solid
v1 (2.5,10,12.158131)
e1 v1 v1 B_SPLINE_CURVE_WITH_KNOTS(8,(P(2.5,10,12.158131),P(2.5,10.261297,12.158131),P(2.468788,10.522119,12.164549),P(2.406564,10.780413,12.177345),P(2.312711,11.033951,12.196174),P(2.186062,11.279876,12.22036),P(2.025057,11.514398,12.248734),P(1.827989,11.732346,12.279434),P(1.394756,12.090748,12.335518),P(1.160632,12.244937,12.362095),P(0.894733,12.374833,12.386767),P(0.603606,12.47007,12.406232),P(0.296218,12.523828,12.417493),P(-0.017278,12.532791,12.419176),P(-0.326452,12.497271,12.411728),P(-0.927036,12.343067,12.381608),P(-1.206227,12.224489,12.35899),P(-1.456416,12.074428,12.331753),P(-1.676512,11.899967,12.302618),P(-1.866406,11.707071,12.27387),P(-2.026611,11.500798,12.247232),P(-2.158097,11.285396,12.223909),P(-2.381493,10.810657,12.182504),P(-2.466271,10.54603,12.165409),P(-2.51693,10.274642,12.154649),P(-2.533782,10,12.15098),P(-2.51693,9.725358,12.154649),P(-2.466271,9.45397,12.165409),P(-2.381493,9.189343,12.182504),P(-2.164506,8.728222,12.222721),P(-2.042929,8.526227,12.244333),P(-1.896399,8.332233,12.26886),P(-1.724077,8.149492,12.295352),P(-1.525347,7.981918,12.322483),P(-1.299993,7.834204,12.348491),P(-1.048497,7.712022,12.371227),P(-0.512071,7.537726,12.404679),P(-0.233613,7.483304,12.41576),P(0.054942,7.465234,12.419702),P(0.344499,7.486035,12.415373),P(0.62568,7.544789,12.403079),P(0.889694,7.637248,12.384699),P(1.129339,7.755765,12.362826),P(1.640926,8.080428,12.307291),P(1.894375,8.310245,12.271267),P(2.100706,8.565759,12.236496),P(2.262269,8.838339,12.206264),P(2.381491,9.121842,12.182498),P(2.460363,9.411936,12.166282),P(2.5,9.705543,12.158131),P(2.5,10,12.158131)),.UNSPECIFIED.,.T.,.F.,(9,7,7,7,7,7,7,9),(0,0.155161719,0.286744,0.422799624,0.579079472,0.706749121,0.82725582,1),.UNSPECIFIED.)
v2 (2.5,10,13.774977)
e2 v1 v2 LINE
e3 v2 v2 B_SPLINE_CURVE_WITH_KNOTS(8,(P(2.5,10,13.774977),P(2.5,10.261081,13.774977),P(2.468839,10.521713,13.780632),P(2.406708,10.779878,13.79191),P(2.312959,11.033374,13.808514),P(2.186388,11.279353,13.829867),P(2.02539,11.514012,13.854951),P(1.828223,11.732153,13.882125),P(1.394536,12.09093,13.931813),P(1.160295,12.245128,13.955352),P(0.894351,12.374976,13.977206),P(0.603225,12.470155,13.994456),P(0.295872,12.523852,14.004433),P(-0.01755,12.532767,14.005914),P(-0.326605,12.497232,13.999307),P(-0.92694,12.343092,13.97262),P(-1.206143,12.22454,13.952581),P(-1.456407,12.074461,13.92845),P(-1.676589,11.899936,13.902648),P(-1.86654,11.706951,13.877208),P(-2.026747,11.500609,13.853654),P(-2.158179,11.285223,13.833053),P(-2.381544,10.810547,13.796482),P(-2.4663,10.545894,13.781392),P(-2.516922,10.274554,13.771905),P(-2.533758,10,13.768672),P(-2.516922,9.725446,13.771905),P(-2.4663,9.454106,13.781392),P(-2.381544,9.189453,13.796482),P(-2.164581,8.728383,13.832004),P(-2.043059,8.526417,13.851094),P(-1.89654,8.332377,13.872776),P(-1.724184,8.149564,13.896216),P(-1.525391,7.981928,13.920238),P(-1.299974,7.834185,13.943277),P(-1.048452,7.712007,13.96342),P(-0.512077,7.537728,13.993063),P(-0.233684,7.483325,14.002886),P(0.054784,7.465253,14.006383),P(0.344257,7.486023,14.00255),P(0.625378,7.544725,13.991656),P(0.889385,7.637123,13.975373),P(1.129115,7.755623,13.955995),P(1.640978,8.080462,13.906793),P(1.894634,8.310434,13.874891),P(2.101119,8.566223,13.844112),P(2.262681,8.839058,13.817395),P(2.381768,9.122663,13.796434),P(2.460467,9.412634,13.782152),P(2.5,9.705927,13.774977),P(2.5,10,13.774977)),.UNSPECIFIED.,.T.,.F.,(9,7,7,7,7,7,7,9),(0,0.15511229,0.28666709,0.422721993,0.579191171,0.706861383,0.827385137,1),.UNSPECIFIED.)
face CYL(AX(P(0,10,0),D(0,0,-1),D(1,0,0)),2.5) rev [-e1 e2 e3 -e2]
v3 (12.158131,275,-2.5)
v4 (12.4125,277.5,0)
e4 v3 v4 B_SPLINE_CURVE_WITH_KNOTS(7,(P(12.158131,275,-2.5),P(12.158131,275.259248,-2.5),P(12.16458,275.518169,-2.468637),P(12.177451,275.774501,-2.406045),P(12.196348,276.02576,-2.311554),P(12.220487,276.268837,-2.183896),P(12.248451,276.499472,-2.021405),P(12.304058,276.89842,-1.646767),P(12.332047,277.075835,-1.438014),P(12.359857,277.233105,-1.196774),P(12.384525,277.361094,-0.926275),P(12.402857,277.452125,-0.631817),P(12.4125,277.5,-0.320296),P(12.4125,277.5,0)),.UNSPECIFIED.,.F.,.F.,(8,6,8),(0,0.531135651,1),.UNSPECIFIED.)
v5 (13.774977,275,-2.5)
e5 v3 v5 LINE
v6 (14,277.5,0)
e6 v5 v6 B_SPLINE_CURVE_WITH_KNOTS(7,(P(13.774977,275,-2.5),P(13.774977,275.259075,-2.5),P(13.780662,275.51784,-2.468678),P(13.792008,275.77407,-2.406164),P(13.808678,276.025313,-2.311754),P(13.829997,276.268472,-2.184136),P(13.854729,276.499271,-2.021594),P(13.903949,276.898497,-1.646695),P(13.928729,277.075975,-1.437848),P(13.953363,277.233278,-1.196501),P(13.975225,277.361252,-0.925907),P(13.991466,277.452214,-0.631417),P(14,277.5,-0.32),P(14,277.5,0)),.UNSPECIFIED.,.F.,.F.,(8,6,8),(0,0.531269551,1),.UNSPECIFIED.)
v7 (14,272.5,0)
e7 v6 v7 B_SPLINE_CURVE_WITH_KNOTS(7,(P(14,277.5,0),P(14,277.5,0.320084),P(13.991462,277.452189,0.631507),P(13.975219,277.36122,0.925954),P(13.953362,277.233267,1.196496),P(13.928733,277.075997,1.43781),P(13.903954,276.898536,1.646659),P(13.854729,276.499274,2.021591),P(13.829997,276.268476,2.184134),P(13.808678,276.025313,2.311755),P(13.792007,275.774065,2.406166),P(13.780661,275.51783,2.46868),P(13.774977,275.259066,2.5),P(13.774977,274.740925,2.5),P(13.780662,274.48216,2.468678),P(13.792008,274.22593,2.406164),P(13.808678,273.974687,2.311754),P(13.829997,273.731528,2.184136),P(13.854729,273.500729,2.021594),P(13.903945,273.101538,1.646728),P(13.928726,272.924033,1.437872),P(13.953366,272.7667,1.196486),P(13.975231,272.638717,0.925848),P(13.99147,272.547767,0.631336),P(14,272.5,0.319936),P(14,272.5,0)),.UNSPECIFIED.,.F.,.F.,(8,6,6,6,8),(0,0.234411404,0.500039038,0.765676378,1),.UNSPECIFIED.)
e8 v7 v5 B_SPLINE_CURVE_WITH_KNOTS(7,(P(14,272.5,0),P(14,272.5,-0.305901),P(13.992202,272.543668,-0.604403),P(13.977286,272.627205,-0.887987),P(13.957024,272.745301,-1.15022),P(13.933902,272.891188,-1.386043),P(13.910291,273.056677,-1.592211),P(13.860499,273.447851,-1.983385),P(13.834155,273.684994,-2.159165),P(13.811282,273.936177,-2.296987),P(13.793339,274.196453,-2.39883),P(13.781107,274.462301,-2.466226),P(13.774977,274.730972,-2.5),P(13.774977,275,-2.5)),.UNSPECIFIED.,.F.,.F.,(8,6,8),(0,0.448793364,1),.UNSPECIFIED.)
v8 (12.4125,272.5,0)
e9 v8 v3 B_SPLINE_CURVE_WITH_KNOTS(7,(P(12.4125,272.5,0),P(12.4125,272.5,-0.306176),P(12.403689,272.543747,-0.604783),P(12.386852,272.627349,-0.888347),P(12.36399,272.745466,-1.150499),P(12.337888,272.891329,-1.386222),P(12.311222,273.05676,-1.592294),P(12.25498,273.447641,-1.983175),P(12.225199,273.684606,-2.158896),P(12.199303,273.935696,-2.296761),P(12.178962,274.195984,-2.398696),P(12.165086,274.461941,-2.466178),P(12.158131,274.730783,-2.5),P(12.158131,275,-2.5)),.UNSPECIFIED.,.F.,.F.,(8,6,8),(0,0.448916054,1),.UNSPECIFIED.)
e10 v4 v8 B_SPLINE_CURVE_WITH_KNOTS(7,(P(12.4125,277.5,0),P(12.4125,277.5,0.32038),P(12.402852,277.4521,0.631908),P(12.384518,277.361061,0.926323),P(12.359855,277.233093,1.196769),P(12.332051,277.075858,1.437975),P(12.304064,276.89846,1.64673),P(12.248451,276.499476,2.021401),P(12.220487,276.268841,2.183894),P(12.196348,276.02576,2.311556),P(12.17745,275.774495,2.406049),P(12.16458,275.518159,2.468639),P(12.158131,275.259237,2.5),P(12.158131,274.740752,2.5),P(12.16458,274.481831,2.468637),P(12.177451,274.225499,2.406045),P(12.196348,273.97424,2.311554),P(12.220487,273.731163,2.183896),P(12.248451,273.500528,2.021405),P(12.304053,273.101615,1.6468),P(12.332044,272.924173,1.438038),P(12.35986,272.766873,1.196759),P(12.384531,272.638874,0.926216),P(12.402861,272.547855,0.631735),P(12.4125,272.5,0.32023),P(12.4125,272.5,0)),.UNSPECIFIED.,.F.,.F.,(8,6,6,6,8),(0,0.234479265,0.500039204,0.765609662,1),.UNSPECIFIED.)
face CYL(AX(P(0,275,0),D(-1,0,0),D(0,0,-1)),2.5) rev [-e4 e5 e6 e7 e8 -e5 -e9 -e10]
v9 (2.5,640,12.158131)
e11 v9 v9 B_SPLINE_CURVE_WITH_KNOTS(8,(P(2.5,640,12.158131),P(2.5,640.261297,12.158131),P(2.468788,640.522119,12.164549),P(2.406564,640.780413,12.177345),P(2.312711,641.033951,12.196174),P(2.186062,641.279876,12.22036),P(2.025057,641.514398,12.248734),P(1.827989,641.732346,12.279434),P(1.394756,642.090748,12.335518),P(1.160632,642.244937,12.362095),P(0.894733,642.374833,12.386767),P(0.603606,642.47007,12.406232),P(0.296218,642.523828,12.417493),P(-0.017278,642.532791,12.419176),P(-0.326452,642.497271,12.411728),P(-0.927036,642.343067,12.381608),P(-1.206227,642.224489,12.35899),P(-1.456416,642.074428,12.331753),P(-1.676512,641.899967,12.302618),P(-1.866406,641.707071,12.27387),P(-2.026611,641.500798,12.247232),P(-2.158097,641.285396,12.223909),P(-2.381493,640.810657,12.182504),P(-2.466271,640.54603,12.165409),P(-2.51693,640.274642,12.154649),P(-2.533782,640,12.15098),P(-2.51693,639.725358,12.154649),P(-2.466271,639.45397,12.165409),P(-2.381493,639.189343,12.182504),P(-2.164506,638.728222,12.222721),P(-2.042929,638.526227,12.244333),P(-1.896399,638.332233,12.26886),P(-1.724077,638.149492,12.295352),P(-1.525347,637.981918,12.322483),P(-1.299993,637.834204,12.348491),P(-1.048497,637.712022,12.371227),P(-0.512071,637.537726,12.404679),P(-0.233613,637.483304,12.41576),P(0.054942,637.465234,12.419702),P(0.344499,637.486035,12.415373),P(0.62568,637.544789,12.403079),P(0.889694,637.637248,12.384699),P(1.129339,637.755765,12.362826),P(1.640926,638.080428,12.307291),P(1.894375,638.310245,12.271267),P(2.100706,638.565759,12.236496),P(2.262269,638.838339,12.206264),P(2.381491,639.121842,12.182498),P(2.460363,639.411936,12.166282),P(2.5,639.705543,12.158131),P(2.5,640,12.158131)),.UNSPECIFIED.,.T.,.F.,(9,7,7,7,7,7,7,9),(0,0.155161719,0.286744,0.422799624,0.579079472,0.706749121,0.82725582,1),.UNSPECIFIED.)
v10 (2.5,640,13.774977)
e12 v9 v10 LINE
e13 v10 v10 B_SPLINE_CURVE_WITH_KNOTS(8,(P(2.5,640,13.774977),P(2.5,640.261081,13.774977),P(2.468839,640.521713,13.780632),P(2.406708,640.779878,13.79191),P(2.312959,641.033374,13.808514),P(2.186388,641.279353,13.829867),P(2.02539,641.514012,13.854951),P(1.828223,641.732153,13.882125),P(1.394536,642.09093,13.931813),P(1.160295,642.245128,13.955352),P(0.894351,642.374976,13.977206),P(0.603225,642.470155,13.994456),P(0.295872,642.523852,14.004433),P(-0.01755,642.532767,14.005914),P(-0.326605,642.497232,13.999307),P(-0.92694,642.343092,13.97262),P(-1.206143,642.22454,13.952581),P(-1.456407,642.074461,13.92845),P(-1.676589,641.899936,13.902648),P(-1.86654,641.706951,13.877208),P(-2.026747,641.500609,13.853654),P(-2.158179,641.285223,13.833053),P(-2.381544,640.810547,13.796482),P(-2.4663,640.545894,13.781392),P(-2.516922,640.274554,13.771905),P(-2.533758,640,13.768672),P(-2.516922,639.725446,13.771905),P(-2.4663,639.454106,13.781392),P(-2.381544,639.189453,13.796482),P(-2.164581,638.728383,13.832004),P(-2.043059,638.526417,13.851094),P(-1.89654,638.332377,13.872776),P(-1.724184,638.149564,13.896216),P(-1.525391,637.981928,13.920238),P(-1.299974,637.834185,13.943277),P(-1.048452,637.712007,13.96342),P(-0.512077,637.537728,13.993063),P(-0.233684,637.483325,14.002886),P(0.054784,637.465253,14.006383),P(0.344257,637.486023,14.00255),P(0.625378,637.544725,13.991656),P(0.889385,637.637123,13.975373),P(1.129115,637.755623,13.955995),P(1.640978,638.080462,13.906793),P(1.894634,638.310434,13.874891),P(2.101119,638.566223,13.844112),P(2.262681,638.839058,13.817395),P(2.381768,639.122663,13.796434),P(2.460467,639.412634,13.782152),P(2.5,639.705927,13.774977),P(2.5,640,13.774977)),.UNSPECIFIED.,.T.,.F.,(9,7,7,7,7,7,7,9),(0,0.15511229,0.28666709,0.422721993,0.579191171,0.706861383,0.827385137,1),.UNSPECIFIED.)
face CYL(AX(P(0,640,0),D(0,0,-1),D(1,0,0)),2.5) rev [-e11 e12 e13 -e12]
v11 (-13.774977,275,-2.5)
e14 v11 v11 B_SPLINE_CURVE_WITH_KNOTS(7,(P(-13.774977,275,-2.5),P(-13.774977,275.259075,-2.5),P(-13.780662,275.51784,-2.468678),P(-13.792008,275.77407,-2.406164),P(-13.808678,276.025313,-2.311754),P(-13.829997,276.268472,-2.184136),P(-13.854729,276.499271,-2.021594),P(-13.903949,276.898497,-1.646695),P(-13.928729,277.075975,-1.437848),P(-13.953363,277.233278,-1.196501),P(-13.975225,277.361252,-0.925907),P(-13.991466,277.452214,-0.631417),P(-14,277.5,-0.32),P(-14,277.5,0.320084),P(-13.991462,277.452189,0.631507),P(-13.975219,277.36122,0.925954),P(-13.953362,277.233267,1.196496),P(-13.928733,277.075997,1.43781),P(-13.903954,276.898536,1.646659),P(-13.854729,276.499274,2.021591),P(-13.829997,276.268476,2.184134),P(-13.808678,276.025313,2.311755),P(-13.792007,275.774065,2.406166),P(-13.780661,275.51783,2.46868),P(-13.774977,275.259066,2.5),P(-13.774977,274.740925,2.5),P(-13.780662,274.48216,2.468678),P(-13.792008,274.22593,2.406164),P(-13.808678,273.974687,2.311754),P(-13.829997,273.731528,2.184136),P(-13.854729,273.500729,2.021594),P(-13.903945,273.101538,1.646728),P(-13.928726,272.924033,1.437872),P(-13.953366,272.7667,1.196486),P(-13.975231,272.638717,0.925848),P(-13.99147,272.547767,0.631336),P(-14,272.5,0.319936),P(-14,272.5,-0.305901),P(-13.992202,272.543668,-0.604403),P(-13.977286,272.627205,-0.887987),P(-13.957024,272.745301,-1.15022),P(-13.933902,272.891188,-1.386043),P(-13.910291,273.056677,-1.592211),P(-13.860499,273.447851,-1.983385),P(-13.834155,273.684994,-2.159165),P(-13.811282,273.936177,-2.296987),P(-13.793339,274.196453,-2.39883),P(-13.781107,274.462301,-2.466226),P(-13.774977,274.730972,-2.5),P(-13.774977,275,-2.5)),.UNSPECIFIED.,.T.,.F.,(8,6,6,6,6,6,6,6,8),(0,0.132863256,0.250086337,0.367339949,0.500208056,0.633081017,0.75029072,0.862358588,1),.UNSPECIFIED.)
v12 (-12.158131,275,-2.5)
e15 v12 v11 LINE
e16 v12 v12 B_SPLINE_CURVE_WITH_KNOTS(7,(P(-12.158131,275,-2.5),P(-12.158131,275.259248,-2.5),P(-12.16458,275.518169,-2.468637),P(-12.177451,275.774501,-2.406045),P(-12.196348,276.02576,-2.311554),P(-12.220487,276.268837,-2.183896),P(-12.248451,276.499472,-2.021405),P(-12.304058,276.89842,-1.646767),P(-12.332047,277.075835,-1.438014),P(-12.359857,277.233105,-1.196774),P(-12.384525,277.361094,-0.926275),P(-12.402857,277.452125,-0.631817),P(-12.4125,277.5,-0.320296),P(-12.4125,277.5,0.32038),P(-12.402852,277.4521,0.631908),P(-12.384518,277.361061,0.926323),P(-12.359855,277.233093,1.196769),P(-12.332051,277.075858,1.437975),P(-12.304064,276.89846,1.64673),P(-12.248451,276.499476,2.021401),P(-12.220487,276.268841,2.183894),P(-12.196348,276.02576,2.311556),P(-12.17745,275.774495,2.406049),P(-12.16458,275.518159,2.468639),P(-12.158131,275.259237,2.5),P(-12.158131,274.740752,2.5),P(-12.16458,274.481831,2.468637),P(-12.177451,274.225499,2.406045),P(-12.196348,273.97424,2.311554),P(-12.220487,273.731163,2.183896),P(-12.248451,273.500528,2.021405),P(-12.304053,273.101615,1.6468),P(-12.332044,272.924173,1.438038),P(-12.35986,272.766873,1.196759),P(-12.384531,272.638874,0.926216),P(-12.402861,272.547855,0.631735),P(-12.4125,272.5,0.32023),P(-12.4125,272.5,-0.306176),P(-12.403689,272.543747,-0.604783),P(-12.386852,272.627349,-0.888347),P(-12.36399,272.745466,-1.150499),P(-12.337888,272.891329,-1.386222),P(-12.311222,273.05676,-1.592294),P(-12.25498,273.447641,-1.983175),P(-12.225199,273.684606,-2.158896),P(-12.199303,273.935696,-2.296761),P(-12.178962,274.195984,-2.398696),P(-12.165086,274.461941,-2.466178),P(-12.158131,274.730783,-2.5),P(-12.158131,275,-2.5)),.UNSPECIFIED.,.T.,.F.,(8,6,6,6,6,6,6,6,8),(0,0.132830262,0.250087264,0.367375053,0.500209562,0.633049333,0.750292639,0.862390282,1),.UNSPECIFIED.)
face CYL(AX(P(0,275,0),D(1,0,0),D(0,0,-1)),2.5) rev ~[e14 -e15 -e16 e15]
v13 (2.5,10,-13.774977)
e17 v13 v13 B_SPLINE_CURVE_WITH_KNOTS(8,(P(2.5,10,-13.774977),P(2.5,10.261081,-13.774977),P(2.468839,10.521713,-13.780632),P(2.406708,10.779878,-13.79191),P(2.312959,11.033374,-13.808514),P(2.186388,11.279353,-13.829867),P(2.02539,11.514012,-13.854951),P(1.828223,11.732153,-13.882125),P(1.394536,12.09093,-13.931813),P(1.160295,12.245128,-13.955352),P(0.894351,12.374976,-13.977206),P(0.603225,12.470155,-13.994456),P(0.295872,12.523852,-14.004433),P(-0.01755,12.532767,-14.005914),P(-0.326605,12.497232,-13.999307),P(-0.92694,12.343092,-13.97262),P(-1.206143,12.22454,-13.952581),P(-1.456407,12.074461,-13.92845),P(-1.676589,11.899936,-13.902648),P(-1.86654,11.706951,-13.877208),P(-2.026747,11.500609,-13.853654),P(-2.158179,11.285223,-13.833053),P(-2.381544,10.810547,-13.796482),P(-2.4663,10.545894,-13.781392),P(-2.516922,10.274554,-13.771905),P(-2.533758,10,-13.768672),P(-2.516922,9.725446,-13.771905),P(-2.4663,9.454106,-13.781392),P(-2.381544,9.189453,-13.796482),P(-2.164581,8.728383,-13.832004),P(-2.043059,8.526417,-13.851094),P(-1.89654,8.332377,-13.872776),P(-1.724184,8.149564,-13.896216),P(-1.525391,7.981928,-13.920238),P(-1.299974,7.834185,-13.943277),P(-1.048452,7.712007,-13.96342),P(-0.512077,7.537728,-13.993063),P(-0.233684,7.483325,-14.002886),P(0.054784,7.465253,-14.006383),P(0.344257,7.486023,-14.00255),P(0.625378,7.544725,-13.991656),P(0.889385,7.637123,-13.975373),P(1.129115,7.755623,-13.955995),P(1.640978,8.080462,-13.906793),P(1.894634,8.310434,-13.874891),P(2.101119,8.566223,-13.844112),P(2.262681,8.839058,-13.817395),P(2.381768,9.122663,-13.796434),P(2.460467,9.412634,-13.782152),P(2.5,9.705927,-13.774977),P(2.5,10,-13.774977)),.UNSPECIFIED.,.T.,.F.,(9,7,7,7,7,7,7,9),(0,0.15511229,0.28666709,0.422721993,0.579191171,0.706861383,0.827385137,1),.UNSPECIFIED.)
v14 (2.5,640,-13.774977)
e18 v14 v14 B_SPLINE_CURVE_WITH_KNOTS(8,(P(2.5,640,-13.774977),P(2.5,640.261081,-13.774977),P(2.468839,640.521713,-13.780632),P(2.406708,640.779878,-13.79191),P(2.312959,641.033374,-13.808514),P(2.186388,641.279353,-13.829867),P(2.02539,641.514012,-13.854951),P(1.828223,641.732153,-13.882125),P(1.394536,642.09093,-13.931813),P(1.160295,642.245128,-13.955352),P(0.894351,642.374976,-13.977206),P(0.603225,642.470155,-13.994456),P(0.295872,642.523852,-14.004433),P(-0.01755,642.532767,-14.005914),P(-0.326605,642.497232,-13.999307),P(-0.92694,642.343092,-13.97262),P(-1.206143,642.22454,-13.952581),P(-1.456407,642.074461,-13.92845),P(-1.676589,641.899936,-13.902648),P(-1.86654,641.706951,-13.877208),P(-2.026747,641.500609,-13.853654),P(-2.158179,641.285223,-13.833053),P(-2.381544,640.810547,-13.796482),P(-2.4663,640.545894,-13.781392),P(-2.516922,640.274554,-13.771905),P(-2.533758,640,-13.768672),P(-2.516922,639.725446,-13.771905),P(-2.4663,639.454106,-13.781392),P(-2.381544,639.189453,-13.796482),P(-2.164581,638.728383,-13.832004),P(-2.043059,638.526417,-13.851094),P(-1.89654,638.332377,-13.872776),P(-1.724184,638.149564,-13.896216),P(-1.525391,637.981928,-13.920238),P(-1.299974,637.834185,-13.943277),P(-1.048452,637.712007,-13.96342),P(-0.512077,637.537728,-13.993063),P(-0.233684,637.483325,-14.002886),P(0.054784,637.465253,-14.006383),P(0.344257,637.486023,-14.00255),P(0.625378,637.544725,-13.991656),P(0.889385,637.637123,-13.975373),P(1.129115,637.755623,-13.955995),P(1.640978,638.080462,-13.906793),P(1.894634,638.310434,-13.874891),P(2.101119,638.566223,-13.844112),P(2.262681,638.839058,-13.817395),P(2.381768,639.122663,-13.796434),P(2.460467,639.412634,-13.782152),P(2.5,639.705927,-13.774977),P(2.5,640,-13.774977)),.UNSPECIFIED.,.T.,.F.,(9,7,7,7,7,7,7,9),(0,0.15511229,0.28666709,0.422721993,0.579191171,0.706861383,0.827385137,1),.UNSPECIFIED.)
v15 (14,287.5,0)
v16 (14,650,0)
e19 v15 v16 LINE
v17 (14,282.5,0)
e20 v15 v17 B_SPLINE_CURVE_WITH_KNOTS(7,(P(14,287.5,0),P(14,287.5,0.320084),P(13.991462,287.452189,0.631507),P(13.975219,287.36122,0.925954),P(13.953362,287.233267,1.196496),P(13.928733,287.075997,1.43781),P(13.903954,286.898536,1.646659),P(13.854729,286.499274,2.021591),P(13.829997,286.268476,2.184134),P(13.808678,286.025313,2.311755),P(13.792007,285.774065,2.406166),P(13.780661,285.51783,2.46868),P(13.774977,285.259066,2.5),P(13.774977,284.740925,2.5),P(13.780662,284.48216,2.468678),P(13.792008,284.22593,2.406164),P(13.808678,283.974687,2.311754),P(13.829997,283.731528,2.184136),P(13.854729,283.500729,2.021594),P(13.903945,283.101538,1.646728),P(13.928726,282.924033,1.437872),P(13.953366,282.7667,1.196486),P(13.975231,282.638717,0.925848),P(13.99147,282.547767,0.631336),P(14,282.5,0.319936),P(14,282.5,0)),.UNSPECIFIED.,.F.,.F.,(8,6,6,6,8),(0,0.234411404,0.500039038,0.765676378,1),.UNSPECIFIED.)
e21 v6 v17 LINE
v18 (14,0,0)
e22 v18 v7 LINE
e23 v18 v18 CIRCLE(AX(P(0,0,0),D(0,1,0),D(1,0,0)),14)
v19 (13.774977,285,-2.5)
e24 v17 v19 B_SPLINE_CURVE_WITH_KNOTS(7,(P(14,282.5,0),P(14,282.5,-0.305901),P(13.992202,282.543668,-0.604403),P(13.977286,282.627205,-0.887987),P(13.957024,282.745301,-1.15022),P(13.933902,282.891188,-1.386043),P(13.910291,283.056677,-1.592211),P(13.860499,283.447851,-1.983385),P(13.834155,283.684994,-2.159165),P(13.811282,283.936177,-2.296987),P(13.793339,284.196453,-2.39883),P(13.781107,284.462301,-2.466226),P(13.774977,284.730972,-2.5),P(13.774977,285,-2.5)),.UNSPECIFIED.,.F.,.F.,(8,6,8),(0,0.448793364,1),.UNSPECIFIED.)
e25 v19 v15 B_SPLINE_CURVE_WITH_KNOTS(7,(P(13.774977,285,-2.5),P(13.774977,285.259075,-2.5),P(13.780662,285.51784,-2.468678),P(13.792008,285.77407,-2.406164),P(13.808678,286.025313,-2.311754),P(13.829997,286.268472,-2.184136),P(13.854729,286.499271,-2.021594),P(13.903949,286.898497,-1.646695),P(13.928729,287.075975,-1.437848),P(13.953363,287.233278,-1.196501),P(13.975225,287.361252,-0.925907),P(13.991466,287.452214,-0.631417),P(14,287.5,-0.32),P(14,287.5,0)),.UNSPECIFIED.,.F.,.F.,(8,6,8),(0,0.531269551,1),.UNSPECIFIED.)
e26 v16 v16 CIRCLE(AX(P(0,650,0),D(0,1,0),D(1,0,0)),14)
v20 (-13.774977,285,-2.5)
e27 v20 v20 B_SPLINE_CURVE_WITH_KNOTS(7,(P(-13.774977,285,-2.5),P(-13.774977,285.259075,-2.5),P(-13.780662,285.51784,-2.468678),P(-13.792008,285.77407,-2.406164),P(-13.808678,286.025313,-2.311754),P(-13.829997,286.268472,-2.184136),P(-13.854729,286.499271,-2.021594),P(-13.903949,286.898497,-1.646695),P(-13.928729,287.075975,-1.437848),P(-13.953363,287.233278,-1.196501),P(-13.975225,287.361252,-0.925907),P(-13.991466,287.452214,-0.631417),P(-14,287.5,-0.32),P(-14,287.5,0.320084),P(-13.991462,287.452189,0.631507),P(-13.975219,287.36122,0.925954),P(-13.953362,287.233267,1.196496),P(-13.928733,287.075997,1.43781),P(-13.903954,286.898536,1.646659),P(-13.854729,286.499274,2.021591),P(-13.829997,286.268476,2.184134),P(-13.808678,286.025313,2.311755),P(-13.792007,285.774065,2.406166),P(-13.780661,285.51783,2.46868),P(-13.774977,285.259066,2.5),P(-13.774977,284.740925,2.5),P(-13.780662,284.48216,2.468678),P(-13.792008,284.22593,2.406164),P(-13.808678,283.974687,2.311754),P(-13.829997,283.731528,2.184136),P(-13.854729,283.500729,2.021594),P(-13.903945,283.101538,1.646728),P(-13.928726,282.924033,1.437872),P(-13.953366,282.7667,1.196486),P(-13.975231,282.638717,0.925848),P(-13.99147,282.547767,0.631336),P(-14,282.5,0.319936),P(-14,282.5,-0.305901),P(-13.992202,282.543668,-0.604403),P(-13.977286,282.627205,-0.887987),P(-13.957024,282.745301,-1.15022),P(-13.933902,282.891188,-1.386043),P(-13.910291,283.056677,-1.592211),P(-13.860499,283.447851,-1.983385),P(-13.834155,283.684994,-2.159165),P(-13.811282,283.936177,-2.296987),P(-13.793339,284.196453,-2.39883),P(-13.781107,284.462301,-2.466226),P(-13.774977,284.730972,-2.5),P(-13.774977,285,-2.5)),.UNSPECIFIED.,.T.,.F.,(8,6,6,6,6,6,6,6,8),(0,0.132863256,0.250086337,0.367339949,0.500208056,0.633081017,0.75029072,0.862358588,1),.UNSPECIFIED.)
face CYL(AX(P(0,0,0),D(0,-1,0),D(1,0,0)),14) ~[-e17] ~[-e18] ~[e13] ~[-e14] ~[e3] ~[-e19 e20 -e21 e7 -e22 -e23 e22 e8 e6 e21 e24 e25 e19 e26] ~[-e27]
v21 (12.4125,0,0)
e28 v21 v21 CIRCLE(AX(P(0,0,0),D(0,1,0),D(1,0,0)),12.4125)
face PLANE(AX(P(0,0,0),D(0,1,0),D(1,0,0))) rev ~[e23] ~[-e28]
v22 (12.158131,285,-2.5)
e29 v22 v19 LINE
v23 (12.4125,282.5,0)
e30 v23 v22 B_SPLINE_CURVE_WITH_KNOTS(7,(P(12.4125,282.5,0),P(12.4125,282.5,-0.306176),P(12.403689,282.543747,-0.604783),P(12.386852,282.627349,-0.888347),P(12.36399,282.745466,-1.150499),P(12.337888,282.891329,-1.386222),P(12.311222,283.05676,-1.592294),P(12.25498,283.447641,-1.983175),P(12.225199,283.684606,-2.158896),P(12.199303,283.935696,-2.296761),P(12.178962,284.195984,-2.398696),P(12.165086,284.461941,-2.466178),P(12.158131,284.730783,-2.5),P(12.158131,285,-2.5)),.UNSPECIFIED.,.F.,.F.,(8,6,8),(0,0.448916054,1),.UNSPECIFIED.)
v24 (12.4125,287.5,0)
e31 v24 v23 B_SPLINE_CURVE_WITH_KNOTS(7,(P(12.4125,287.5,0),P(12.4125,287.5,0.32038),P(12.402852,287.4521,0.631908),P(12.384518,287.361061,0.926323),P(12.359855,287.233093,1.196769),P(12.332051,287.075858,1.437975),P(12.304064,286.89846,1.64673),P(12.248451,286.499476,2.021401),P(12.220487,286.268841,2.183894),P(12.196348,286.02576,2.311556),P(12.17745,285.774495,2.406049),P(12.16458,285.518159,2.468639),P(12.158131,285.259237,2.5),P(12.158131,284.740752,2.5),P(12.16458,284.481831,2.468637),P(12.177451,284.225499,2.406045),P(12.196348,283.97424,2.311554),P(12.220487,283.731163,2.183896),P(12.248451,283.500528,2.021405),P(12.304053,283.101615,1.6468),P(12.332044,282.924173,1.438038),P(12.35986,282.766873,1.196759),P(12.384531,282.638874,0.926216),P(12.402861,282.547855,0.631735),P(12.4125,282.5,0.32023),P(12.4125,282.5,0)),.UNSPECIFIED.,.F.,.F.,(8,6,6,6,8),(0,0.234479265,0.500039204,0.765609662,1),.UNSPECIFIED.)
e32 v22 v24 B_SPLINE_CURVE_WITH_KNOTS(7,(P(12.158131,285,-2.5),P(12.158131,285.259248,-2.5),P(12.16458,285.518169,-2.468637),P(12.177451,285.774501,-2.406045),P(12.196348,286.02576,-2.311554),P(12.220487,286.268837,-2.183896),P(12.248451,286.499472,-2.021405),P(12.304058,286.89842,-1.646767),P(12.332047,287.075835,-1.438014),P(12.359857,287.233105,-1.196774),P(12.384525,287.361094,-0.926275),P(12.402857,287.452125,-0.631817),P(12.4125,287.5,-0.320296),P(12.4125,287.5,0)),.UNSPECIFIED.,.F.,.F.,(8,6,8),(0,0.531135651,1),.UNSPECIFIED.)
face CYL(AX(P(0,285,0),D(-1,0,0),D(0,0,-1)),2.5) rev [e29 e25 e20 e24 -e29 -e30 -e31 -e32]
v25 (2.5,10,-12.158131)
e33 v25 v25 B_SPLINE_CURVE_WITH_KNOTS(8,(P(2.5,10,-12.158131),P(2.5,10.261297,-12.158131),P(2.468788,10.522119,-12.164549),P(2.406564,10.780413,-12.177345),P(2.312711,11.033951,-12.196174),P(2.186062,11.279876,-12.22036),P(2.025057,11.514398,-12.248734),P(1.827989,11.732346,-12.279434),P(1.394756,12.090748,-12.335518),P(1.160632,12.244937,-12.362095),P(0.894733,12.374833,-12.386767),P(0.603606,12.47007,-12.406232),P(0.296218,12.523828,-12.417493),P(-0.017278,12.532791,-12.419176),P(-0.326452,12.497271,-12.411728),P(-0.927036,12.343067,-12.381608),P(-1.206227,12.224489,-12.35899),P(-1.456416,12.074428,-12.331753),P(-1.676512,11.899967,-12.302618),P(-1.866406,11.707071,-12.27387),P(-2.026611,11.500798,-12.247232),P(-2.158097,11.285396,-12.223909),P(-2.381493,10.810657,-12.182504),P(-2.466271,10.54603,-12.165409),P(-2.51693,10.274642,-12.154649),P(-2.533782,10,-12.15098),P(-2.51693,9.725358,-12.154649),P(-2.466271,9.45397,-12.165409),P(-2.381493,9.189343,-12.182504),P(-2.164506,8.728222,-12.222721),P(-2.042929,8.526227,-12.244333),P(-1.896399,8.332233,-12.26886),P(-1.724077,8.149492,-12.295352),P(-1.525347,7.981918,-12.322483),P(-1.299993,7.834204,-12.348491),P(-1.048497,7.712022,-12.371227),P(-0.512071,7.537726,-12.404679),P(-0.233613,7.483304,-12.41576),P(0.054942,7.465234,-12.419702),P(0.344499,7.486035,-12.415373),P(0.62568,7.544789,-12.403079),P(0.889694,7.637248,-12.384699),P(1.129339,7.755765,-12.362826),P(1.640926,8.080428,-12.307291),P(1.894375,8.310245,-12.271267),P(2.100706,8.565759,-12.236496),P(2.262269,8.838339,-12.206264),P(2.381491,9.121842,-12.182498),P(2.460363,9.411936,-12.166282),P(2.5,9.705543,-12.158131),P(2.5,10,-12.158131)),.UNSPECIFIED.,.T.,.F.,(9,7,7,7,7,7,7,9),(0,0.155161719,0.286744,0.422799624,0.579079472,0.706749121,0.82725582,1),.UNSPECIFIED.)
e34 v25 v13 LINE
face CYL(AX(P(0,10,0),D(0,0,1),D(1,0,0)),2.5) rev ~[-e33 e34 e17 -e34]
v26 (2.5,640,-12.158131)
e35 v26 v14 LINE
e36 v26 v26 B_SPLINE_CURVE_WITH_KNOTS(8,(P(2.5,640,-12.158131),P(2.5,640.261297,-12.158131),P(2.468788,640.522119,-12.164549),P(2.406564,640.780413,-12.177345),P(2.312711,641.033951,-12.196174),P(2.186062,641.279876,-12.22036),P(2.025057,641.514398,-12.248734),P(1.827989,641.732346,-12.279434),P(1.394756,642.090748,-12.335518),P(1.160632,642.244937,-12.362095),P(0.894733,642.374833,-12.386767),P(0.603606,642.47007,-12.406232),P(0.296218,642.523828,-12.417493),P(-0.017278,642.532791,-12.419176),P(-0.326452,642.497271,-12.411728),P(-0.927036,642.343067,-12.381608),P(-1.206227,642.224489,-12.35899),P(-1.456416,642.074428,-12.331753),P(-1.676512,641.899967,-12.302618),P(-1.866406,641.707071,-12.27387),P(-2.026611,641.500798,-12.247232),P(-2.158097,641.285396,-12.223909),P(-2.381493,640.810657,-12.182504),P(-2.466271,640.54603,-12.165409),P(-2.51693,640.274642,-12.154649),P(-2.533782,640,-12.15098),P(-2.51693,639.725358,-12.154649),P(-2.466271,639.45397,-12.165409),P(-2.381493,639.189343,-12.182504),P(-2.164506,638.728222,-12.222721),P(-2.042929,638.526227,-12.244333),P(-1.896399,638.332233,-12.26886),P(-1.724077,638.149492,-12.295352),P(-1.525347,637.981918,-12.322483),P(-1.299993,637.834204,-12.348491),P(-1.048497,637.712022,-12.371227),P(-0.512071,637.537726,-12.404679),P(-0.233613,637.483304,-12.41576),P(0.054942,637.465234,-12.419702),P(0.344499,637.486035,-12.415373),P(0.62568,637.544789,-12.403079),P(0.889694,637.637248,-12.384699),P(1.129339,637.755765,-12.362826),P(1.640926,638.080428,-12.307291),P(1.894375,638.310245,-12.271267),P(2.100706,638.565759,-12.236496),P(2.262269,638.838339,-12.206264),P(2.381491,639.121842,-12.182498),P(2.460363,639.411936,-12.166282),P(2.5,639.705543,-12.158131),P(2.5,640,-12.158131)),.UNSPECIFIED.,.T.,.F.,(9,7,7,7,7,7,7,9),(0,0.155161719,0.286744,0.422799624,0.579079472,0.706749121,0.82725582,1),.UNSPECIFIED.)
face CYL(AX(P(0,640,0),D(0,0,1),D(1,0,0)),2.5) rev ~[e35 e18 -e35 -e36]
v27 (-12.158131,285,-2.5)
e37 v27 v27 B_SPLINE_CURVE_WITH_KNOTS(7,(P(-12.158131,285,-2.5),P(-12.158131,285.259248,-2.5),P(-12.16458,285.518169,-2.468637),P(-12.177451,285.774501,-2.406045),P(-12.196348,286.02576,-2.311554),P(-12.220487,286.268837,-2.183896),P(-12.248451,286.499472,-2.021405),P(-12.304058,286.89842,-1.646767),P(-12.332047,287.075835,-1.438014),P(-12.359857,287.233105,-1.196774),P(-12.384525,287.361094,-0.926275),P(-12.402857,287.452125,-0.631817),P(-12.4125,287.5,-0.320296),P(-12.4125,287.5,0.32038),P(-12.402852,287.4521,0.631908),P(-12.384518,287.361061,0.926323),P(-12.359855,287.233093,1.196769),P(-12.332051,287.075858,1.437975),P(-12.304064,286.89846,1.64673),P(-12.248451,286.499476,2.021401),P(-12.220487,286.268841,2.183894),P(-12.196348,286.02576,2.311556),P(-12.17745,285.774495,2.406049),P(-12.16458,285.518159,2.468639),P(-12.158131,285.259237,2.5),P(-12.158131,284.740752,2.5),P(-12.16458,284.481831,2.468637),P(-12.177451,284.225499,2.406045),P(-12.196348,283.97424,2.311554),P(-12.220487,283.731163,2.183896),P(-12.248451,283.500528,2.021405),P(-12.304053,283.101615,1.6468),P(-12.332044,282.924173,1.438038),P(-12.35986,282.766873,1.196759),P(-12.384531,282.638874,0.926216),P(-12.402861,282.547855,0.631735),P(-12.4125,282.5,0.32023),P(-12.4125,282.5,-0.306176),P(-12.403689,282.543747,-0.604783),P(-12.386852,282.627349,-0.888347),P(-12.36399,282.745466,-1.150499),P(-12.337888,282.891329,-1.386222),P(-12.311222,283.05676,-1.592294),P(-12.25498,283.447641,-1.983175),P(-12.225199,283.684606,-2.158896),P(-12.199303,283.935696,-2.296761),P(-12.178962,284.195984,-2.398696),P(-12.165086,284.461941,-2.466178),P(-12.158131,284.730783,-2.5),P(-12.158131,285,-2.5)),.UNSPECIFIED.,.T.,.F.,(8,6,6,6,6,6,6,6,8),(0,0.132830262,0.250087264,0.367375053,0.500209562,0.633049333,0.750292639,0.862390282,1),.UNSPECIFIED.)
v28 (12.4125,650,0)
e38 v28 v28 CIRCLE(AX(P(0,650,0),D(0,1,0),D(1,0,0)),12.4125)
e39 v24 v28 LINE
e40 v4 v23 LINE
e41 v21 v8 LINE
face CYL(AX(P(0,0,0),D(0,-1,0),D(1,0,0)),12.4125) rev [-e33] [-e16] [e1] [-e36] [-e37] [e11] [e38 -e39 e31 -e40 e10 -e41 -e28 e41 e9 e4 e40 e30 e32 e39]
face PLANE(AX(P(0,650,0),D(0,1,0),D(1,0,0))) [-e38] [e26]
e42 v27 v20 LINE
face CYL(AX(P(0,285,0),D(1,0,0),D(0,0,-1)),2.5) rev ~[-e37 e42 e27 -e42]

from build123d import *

# Parameters (mm, degrees)
SKETCH1_R               = 14
SKETCH1_R_2             = 12.4125
BOSS_EXTRUDE1_DEPTH     = 650
SKETCH2_R               = 2.5
CUT_EXTRUDE2_DEPTH      = 15
CUT_EXTRUDE2_DEPTH_BACK = 15
SKETCH6_R               = 2.5
CUT_EXTRUDE4_DEPTH      = 15.0000001
CUT_EXTRUDE4_DEPTH_BACK = 15.0000001


with BuildPart() as part:
    # Sketch1 → Boss-Extrude1 (new body)
    with BuildSketch(Plane(origin=(0, 0, 0), x_dir=(1, 0, 0), z_dir=(0, 1, 0))):
        Circle(SKETCH1_R)
        Circle(SKETCH1_R_2, mode=Mode.SUBTRACT)
    extrude(amount=BOSS_EXTRUDE1_DEPTH)

    # Sketch2 → Cut-Extrude2 (cut, two sides)
    with BuildSketch(Plane.XY) as cut_extrude2_sk:
        with Locations((0, 10)):
            Circle(SKETCH2_R)
        with Locations((0, 640)):
            Circle(SKETCH2_R)
    extrude(amount=CUT_EXTRUDE2_DEPTH, mode=Mode.SUBTRACT)
    extrude(cut_extrude2_sk.sketch, amount=-CUT_EXTRUDE2_DEPTH_BACK, mode=Mode.SUBTRACT)

    # Sketch6 → Cut-Extrude4 (cut, two sides)
    with BuildSketch(Plane(origin=(0, 0, 0), x_dir=(0, 0, -1), z_dir=(1, 0, 0))) as cut_extrude4_sk:
        with Locations((0, 285)):
            Circle(SKETCH6_R)
        with Locations((0, 275)):
            Circle(SKETCH6_R)
    extrude(amount=CUT_EXTRUDE4_DEPTH, mode=Mode.SUBTRACT)
    extrude(cut_extrude4_sk.sketch, amount=-CUT_EXTRUDE4_DEPTH_BACK, mode=Mode.SUBTRACT)


solid = part.part
